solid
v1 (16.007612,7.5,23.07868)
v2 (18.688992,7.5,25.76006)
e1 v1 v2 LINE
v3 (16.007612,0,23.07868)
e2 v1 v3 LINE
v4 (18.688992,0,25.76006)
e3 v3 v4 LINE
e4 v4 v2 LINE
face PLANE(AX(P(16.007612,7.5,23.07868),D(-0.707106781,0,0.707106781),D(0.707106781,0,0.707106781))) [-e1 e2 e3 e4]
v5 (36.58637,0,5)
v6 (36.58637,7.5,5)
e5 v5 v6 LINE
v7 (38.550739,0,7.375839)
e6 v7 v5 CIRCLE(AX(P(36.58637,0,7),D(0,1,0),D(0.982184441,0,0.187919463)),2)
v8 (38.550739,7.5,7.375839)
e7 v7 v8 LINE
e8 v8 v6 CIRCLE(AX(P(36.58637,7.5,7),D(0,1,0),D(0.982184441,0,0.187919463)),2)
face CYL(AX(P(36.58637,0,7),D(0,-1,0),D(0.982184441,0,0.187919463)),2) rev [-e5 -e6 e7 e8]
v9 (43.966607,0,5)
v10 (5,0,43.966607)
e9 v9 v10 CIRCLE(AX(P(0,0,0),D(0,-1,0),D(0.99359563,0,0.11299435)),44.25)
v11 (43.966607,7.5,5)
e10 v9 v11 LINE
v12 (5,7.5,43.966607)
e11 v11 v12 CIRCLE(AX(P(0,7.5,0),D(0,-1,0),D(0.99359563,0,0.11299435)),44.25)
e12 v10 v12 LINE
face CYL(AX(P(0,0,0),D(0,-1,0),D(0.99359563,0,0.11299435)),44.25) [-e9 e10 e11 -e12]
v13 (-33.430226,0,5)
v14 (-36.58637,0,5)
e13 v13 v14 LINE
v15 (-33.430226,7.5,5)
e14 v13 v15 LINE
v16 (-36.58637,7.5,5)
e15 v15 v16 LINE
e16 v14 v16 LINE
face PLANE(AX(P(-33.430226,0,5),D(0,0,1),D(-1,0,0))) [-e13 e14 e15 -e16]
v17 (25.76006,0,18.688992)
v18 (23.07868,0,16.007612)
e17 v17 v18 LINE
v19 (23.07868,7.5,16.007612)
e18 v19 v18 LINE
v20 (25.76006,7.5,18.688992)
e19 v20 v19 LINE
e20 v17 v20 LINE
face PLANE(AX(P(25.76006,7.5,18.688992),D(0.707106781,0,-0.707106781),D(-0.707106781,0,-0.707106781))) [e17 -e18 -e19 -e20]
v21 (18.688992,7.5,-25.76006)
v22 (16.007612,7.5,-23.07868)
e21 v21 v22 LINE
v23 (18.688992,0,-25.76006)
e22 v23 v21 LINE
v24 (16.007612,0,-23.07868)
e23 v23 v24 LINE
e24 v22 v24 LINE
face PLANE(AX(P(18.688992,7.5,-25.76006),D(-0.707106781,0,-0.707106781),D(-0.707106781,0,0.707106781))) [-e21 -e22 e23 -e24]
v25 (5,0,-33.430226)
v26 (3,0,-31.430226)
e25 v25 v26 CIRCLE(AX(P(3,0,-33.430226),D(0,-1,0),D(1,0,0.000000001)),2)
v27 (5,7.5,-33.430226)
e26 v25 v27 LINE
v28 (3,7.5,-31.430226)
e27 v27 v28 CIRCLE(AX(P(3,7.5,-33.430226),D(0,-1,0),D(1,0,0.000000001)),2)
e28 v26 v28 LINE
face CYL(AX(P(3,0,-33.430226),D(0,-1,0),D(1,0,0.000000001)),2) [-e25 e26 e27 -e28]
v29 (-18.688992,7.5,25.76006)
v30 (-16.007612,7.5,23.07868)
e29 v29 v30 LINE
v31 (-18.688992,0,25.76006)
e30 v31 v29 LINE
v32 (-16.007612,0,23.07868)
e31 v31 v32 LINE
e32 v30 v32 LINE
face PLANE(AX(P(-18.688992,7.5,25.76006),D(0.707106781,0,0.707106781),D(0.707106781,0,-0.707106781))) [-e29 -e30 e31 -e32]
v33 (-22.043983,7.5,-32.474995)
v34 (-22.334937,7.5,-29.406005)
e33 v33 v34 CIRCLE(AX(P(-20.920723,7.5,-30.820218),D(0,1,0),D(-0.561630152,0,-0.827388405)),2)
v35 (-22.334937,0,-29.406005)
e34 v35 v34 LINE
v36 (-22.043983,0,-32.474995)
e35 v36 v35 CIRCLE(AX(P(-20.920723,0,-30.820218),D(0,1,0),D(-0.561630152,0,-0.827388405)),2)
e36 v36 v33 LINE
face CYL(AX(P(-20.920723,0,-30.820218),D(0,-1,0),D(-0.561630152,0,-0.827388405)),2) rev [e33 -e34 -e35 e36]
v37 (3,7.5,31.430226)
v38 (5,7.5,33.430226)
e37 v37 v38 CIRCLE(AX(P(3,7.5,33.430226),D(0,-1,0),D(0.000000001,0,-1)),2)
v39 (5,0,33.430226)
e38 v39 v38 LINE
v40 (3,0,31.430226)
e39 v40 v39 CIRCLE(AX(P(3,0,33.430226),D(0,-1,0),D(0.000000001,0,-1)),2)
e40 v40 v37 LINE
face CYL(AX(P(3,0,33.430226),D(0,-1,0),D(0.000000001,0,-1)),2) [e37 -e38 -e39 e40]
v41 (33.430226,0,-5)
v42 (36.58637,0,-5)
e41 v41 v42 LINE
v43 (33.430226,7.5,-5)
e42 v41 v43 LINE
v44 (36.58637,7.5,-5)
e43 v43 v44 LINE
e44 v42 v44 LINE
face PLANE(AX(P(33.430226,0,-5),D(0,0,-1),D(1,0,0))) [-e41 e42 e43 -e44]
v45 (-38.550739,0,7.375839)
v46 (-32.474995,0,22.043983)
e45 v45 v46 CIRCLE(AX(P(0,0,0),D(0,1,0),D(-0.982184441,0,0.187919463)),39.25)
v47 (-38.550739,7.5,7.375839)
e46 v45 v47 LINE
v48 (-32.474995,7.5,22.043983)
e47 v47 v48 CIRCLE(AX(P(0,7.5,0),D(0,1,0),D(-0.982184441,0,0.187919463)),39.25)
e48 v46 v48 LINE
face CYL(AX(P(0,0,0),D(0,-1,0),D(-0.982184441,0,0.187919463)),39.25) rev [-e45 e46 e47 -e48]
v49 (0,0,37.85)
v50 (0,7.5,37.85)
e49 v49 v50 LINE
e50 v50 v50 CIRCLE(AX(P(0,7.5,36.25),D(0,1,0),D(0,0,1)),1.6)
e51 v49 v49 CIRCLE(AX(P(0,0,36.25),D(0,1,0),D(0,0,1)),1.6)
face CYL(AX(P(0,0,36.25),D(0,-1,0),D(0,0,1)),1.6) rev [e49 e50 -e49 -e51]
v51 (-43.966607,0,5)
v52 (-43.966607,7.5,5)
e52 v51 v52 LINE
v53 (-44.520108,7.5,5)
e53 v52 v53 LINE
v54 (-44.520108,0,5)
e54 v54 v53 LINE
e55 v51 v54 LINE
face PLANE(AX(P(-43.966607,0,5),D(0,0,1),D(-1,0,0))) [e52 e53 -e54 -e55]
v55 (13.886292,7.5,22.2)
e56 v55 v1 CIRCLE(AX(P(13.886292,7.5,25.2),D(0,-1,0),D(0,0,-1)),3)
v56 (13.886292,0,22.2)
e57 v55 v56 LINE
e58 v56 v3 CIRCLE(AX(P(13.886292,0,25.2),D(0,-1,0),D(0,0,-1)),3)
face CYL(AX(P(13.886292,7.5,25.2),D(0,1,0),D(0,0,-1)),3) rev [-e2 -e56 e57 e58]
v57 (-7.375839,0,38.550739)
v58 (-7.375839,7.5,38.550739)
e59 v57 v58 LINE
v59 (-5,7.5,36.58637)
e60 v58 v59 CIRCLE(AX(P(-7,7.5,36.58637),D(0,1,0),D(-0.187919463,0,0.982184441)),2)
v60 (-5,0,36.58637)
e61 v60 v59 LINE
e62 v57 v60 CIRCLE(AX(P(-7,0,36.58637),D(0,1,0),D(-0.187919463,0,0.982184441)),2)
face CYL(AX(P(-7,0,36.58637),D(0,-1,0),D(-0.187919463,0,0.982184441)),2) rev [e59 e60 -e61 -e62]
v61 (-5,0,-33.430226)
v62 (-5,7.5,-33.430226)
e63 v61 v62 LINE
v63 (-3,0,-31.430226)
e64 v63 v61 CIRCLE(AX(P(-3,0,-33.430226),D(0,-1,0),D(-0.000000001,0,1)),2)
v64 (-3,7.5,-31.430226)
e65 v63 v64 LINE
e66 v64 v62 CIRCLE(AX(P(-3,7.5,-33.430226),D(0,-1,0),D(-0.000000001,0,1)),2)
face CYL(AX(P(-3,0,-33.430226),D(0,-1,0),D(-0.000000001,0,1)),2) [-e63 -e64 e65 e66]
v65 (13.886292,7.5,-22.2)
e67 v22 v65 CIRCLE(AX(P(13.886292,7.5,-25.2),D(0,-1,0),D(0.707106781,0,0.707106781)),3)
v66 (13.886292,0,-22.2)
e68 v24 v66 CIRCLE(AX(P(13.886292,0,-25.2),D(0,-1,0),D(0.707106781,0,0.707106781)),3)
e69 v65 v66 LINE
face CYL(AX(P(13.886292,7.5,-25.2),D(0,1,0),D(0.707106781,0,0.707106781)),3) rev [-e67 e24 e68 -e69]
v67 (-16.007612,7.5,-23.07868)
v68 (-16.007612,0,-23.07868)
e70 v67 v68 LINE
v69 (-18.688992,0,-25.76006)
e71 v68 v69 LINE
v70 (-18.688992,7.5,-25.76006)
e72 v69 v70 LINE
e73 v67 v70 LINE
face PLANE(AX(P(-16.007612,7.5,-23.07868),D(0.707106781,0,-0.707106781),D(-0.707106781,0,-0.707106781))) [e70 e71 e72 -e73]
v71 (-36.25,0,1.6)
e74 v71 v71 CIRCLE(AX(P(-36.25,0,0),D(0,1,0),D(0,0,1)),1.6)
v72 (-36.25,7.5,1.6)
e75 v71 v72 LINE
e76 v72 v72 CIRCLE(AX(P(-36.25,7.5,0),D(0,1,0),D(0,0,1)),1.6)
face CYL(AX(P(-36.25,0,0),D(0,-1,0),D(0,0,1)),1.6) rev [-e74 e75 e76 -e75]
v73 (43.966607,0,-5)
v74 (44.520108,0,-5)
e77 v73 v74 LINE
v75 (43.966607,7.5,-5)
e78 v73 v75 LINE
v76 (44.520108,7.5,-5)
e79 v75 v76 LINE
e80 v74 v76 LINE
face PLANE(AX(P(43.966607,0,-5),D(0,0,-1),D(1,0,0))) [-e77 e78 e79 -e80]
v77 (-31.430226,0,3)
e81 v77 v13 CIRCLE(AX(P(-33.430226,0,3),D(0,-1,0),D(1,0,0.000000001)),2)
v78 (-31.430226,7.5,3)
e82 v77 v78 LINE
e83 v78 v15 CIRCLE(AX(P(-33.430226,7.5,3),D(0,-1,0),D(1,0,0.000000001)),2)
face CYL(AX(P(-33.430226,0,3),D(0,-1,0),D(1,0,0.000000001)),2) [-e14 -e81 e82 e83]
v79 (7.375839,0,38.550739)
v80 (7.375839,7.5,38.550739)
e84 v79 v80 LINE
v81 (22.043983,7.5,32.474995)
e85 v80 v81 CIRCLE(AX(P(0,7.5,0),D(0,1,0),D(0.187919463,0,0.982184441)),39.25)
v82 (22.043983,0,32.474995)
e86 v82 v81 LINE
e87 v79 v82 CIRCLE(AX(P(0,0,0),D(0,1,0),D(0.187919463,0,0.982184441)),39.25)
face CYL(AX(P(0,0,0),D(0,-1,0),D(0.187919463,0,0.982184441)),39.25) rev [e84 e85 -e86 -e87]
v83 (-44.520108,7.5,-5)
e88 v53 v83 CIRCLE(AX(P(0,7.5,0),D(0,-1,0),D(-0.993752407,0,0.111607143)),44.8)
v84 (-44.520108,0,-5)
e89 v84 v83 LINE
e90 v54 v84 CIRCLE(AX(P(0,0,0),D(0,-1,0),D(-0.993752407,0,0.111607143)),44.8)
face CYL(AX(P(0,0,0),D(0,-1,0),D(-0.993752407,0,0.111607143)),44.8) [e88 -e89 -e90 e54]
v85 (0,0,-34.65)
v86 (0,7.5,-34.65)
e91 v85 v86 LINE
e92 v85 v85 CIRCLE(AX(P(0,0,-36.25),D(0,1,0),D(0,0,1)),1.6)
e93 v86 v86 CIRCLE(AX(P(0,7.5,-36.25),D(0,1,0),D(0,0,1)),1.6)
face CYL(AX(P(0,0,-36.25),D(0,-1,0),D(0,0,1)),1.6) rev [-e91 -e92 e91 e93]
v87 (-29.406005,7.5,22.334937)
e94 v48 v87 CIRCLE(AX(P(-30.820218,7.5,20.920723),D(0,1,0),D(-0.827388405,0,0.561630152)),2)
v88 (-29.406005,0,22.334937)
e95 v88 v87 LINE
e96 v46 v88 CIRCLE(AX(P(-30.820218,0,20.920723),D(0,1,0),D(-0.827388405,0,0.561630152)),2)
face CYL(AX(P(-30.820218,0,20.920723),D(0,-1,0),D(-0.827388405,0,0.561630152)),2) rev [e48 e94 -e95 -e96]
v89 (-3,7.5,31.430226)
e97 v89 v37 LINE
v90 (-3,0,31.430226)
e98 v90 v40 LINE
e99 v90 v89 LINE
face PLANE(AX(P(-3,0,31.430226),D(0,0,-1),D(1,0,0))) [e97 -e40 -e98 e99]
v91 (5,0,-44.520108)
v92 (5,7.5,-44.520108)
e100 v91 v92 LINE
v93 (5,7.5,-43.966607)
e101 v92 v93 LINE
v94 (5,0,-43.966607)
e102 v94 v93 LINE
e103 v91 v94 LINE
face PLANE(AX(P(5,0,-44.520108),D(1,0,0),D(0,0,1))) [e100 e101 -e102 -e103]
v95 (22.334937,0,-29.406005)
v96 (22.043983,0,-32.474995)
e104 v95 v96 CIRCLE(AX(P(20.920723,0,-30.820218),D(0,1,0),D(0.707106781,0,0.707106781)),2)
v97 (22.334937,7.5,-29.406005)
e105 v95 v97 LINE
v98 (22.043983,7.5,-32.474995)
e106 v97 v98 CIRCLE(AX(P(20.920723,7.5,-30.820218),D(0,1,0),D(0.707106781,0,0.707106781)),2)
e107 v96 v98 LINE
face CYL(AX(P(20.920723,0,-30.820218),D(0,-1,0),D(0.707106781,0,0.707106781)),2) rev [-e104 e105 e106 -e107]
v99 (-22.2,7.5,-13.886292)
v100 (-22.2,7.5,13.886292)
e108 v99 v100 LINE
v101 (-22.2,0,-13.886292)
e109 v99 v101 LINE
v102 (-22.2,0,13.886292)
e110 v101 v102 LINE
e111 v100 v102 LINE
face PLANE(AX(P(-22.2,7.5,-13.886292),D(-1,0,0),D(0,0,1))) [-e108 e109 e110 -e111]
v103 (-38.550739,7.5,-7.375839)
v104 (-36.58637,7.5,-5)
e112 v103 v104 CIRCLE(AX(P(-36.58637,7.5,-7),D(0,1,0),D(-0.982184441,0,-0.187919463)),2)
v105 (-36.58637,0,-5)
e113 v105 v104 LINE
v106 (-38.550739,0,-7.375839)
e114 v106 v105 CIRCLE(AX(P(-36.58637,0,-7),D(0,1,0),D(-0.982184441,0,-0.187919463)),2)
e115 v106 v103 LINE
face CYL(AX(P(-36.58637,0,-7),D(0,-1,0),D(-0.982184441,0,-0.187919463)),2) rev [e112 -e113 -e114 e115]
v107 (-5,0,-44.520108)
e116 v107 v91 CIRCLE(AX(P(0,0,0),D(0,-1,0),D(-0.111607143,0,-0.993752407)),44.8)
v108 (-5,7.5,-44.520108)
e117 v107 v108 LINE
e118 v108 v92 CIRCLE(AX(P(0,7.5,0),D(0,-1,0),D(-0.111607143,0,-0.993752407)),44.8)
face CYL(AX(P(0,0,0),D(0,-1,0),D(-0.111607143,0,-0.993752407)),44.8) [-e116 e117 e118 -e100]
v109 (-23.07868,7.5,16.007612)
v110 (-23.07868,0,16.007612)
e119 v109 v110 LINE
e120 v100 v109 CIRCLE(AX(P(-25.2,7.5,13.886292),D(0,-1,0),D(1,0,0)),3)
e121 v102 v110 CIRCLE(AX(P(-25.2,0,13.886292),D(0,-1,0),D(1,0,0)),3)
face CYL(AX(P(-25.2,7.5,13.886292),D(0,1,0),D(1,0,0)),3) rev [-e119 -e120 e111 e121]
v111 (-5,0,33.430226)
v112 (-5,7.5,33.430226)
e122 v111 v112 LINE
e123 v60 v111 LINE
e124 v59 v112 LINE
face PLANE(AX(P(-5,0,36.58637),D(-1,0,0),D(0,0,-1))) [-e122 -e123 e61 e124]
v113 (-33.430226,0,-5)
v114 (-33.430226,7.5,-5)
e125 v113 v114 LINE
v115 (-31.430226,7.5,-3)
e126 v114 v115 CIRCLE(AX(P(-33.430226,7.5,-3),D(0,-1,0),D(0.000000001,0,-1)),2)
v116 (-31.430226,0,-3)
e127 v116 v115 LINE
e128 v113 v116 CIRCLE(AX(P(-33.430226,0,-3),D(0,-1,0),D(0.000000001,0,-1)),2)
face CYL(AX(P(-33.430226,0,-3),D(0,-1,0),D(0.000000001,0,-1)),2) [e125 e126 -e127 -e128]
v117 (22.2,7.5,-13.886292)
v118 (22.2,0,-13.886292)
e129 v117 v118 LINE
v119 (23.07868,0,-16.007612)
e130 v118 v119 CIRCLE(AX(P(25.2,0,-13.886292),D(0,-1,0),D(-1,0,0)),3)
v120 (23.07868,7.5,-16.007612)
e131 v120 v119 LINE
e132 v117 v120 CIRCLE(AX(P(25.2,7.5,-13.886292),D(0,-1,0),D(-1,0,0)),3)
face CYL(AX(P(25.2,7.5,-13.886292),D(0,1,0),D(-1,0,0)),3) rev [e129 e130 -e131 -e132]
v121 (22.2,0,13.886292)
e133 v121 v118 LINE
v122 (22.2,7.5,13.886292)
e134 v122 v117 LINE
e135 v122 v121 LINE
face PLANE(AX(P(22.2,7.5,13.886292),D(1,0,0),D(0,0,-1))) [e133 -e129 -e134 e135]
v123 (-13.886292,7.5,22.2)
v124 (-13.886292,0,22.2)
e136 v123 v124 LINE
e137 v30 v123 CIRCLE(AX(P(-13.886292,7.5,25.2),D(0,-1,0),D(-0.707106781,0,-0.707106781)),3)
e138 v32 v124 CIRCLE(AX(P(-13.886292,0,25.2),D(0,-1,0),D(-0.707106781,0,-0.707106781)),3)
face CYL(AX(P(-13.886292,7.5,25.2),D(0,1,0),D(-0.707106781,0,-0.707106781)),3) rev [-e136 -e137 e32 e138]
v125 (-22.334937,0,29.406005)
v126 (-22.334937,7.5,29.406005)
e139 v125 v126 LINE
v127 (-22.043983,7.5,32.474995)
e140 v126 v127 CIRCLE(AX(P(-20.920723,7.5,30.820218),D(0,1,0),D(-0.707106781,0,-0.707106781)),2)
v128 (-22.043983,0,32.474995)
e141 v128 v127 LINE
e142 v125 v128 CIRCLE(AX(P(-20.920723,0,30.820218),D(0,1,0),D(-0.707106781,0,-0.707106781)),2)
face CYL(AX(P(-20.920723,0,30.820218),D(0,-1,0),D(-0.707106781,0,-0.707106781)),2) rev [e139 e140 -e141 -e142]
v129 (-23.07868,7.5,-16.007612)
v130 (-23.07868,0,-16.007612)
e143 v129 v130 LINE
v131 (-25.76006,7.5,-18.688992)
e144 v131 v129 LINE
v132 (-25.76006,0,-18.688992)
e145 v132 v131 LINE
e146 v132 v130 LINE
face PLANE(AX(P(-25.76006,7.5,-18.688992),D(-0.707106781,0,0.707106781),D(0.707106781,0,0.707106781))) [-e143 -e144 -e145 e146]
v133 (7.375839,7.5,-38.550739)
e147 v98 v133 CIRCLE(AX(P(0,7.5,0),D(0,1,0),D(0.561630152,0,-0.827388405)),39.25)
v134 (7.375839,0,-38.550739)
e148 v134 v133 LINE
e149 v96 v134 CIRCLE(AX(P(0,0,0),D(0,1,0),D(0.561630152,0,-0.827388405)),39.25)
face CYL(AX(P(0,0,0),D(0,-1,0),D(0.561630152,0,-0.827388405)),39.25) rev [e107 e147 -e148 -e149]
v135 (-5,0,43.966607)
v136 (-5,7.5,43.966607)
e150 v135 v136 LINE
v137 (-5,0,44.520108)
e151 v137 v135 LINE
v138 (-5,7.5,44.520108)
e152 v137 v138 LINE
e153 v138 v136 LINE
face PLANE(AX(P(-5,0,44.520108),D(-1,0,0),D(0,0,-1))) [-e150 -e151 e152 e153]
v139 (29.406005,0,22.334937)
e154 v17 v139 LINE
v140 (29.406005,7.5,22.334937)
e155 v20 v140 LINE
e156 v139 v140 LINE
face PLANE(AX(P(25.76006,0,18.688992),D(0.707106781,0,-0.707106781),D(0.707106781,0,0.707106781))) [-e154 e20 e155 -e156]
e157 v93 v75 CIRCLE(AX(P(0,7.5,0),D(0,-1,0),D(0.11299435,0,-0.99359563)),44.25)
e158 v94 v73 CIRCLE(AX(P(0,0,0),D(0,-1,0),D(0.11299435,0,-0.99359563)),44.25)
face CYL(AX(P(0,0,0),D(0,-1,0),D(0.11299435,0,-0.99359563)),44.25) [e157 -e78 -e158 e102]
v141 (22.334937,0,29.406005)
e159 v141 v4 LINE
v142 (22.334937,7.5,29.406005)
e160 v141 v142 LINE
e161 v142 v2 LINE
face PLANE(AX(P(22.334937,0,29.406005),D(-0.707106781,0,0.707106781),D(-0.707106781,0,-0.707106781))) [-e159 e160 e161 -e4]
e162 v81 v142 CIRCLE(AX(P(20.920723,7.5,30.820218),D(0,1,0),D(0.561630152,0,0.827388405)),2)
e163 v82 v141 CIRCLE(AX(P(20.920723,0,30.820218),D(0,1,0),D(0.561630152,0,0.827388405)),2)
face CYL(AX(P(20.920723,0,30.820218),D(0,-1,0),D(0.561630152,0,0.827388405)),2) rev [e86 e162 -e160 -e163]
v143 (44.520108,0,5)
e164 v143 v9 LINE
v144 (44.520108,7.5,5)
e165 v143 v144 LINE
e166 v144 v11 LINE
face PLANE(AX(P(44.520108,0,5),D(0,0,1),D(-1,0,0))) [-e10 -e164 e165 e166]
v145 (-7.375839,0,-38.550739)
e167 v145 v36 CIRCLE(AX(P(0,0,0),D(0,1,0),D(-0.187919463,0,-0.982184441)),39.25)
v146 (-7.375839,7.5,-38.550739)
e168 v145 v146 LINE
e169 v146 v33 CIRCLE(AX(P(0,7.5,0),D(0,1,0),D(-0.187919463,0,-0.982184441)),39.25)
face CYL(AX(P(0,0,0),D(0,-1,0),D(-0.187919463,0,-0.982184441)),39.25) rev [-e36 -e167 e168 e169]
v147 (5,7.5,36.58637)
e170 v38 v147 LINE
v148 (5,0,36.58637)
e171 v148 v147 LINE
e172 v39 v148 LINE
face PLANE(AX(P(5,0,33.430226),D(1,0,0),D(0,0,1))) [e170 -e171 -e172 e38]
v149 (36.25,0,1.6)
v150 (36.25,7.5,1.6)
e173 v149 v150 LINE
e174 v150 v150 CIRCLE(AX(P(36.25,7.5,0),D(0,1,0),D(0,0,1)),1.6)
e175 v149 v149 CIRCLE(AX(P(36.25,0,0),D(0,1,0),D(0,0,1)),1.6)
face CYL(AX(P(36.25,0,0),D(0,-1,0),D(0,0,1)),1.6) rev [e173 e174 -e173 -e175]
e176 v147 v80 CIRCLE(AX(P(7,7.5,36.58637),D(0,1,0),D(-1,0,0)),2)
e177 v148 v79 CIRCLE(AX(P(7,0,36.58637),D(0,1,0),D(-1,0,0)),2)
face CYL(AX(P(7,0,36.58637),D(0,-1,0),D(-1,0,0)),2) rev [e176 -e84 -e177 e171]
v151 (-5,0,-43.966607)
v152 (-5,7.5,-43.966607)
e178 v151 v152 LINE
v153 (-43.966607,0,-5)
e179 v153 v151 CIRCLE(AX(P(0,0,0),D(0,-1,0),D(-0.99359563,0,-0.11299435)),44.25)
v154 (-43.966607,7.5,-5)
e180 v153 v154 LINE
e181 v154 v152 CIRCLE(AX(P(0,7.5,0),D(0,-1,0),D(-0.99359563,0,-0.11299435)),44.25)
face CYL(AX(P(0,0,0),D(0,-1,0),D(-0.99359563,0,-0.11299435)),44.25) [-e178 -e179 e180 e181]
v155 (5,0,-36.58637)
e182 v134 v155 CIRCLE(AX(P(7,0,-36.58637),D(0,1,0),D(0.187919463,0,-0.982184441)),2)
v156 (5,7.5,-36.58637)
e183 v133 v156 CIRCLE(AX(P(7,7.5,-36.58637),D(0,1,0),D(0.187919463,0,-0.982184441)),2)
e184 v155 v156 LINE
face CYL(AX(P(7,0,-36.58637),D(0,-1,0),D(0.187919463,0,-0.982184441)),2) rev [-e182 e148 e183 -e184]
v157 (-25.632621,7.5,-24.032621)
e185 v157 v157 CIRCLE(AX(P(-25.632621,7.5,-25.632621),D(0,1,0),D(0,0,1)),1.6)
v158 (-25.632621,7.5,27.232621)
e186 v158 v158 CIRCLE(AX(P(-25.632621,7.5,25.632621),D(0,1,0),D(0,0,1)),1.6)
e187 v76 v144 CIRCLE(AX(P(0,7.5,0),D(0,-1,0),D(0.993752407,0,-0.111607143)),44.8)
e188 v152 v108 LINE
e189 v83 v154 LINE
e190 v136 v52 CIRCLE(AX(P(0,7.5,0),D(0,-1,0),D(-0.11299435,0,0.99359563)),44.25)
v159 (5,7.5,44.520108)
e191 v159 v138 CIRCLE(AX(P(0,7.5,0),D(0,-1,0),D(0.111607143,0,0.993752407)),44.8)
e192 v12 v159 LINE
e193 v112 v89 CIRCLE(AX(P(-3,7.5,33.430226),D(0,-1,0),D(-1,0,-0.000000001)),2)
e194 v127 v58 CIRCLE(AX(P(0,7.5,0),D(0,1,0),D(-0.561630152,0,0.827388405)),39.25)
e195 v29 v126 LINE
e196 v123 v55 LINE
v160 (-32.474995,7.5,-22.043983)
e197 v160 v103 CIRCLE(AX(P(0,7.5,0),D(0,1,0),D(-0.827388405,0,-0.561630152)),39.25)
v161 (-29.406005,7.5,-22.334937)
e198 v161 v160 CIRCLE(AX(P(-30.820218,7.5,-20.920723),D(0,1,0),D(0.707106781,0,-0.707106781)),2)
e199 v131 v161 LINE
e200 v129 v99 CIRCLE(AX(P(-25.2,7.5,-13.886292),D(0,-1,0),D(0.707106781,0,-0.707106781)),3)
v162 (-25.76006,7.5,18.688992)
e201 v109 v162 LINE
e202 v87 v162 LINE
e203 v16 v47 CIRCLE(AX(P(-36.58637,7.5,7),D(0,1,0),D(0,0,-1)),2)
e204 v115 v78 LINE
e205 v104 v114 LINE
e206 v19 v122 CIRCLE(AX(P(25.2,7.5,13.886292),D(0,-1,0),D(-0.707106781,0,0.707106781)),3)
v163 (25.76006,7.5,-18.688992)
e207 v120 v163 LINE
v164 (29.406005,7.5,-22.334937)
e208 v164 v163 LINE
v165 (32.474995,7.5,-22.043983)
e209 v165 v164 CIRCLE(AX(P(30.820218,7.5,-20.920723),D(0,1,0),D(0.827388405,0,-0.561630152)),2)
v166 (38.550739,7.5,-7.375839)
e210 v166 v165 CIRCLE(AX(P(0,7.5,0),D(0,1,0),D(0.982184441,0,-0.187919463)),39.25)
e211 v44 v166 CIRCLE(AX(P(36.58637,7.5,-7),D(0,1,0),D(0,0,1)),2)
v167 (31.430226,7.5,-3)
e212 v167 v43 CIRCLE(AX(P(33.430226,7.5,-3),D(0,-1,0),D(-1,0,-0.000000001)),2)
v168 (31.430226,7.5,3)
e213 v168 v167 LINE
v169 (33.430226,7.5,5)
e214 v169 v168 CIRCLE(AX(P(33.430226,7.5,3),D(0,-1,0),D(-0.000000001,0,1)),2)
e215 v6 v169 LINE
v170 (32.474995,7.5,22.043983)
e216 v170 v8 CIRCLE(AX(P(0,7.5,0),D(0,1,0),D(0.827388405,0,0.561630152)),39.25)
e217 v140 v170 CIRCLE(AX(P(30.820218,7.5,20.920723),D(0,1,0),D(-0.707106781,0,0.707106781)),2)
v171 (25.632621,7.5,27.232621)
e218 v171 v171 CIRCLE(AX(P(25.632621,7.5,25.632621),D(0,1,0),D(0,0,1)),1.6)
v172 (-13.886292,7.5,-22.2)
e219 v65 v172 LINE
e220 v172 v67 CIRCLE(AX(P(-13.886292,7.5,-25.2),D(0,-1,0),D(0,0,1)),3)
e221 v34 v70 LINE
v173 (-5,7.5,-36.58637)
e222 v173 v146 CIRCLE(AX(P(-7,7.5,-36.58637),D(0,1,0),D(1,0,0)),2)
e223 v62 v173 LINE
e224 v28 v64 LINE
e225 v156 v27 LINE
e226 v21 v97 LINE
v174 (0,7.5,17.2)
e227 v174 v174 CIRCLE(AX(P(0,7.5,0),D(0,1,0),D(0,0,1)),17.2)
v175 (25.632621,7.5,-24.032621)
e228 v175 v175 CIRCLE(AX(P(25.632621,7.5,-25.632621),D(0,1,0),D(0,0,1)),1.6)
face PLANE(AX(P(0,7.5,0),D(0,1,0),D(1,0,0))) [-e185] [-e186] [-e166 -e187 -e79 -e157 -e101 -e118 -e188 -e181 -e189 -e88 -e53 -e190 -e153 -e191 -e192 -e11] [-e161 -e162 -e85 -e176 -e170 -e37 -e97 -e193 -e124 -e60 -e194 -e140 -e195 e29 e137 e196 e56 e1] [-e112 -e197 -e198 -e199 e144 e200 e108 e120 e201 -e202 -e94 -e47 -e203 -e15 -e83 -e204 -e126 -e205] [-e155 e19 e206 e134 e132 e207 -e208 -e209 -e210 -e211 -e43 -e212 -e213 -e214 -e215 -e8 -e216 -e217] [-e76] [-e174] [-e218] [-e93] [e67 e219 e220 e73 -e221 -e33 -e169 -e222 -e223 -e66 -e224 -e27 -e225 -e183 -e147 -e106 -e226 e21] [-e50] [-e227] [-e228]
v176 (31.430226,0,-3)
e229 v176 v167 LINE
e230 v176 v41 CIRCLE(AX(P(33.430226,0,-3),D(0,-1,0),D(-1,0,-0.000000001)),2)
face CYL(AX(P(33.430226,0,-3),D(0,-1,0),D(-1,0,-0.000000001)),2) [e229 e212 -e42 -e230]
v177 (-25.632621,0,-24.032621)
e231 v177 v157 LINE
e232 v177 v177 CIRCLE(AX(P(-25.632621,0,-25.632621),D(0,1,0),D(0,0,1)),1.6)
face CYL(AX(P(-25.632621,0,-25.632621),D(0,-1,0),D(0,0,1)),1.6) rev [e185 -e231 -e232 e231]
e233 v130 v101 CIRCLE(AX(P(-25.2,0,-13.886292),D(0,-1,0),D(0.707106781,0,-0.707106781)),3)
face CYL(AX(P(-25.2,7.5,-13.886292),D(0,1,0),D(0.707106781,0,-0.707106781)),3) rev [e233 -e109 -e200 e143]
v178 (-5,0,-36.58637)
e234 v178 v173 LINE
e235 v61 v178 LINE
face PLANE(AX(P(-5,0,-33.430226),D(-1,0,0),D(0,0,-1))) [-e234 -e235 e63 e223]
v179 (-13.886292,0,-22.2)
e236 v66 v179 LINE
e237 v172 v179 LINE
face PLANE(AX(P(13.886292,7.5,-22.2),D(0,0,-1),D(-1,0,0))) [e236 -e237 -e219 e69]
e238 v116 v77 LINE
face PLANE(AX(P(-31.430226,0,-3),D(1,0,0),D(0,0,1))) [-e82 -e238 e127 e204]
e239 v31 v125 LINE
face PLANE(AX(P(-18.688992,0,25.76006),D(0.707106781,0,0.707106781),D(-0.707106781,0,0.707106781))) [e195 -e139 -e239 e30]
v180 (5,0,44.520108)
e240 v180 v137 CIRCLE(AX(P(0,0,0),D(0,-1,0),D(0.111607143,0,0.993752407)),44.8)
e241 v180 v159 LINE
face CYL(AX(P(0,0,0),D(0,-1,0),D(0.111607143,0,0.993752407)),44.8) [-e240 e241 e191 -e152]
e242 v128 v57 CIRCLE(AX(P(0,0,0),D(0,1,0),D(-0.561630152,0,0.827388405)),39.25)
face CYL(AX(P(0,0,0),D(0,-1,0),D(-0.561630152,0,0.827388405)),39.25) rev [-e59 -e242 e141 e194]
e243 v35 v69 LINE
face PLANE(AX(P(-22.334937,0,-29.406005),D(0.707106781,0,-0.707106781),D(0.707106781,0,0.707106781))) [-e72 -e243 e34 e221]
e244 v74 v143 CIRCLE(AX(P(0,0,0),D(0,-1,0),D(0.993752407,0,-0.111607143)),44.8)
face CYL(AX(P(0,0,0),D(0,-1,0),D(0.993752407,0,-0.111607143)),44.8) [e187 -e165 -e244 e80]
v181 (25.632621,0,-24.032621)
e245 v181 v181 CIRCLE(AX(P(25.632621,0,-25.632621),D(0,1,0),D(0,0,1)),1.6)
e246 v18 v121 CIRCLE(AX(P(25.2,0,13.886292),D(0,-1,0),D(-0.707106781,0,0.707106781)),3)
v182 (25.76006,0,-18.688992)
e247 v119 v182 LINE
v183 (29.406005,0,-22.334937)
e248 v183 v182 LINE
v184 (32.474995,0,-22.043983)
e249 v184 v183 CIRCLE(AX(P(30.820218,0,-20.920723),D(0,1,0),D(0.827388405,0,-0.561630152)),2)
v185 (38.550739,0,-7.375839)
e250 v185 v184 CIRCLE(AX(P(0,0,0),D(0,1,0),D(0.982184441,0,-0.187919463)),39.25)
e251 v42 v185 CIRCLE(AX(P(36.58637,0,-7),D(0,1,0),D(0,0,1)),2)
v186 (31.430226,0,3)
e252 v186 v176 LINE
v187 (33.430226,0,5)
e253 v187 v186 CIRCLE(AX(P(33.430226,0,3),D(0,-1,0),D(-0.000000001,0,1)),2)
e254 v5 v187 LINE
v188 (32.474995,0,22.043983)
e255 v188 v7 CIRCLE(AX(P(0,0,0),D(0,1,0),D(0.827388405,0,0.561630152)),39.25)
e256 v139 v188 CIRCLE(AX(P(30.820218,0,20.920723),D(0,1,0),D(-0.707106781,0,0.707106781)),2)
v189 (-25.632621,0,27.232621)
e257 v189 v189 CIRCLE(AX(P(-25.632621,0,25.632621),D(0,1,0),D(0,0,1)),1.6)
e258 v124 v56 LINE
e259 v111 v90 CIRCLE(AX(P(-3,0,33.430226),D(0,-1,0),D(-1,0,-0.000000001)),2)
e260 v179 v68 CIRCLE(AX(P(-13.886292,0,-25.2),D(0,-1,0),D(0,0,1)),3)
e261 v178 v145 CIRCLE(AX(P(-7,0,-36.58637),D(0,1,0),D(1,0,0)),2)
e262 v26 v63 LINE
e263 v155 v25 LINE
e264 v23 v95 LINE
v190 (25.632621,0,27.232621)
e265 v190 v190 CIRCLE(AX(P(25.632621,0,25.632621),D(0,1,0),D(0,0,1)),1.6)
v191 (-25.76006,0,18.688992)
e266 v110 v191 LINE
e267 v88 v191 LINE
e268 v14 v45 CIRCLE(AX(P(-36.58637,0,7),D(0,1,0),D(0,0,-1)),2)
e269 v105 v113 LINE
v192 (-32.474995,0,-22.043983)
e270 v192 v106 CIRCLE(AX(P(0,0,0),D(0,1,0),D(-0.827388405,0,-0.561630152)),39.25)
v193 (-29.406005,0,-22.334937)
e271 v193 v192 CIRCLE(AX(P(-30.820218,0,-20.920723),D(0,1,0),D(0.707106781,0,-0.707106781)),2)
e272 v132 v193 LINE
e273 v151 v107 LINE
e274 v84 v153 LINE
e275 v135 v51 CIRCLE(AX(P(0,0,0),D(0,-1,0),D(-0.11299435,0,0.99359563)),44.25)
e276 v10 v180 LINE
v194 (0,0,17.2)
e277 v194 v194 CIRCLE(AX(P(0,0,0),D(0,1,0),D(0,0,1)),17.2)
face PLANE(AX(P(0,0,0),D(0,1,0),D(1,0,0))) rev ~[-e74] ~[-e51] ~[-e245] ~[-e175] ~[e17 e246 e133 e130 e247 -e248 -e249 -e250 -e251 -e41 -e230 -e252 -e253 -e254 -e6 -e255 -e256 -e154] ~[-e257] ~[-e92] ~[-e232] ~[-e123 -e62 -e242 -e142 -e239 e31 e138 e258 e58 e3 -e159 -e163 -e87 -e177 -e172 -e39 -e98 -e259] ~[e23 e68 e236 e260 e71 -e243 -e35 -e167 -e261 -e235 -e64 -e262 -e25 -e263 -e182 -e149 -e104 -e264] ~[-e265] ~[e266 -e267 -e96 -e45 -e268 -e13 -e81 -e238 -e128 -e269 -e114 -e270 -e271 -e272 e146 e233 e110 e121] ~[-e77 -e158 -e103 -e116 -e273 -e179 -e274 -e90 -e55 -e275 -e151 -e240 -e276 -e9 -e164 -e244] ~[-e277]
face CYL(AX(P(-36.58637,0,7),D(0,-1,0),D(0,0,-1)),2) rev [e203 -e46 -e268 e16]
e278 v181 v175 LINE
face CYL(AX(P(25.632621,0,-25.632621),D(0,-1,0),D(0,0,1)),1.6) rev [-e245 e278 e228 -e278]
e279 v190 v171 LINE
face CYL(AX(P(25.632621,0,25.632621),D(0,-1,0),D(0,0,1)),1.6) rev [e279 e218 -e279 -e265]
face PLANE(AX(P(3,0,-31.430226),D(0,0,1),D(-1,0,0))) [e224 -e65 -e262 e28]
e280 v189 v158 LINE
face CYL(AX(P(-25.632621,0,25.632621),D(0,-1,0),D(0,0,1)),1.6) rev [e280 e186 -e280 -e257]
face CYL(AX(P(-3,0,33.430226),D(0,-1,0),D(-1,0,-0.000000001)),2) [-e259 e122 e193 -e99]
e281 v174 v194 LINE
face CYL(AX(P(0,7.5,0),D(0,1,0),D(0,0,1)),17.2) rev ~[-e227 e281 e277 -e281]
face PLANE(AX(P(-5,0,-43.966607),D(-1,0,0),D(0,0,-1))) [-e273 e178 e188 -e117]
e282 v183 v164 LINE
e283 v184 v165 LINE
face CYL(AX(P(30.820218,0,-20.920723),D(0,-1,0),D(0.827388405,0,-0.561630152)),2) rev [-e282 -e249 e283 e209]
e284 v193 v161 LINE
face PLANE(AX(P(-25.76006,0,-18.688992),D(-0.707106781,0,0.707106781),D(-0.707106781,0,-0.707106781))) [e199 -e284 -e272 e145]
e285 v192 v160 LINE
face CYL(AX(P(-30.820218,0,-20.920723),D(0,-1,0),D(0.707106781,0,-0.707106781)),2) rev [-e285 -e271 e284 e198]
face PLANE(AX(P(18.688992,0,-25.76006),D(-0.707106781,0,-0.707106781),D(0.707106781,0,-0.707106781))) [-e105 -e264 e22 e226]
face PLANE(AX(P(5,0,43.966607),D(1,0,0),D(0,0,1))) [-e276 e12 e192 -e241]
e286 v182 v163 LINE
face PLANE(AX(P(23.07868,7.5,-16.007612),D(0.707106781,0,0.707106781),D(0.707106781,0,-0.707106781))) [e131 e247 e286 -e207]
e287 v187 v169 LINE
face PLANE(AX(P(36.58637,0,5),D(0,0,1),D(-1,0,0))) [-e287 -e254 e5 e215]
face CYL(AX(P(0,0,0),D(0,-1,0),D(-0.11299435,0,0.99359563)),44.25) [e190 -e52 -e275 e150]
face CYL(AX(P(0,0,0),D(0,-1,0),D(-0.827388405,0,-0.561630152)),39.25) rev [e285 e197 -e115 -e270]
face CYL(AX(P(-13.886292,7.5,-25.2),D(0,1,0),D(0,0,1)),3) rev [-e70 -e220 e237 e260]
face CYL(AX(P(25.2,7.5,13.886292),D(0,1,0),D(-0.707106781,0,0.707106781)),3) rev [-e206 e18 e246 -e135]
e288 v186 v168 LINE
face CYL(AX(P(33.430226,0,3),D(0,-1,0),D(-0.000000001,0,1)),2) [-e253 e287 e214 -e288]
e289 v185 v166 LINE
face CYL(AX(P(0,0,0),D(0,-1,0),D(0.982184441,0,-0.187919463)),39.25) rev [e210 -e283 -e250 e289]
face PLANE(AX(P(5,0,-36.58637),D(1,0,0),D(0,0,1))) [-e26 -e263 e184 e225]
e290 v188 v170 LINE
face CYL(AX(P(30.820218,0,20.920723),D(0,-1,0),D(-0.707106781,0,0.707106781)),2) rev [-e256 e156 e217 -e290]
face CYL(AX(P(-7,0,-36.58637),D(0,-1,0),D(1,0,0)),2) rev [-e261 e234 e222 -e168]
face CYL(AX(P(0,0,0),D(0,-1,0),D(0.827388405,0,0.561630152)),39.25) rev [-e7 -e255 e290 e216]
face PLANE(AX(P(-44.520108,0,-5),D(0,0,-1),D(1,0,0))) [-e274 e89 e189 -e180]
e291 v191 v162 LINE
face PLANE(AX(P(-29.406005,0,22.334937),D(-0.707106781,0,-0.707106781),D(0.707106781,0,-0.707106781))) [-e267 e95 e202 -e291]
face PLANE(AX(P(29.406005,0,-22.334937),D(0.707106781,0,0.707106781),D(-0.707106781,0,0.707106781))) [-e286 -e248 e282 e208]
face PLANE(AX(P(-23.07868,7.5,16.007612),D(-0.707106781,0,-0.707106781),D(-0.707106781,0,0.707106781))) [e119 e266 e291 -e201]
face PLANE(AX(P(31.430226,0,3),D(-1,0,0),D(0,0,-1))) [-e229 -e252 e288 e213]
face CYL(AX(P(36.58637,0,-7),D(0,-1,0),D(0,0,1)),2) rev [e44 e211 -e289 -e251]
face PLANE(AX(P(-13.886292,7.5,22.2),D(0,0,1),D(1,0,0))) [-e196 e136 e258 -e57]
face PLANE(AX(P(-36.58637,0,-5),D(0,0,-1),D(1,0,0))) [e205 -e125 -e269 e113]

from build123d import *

# Parameters (mm, degrees)
SKETCH1_R           = 1.6
BOSS_EXTRUDE1_DEPTH = 7.5
SKETCH2_R           = 17.2
BOSS_EXTRUDE2_DEPTH = 7.5


with BuildPart() as part:
    # Sketch1 → Boss-Extrude1 (new body)
    with BuildSketch(Plane(origin=(0, 0, 0), x_dir=(1, 0, 0), z_dir=(0, 1, 0))):
        with BuildLine():
            Line((-5, 43.966606646), (-5, 44.520107817))
            ThreePointArc((-5, 44.520107817), (0, 44.8), (5, 44.520107817))
            Line((5, 44.520107817), (5, 43.966606646))
            ThreePointArc((5, 43.966606646), (31.289475068, 31.289475068), (43.966606646, 5))
            Line((43.966606646, 5), (44.520107817, 5))
            ThreePointArc((44.520107817, 5), (44.8, 0), (44.520107817, -5))
            Line((44.520107817, -5), (43.966606646, -5))
            ThreePointArc((43.966606646, -5), (31.289475068, -31.289475068), (5, -43.966606646))
            Line((5, -43.966606646), (5, -44.520107817))
            ThreePointArc((5, -44.520107817), (0, -44.8), (-5, -44.520107817))
            Line((-5, -44.520107817), (-5, -43.966606646))
            ThreePointArc((-5, -43.966606646), (-31.289475068, -31.289475068), (-43.966606646, -5))
            Line((-43.966606646, -5), (-44.520107817, -5))
            ThreePointArc((-44.520107817, -5), (-44.8, 0), (-44.520107817, 5))
            Line((-44.520107817, 5), (-43.966606646, 5))
            ThreePointArc((-43.966606646, 5), (-31.289475068, 31.289475068), (-5, 43.966606646))
        make_face()
        with Locations(Location((36.25, 0, 0), (0, 0, 270))):
            Circle(SKETCH1_R, mode=Mode.SUBTRACT)
        with Locations(Location((25.632620818, -25.632620818, 0), (0, 0, 270))):
            Circle(SKETCH1_R, mode=Mode.SUBTRACT)
        with Locations(Location((0, -36.25, 0), (0, 0, 270))):
            Circle(SKETCH1_R, mode=Mode.SUBTRACT)
        with Locations(Location((-25.632620818, -25.632620818, 0), (0, 0, 270))):
            Circle(SKETCH1_R, mode=Mode.SUBTRACT)
        with Locations(Location((-36.25, 0, 0), (0, 0, 270))):
            Circle(SKETCH1_R, mode=Mode.SUBTRACT)
        with Locations(Location((-25.632620818, 25.632620818, 0), (0, 0, 270))):
            Circle(SKETCH1_R, mode=Mode.SUBTRACT)
        with Locations(Location((0, 36.25, 0), (0, 0, 270))):
            Circle(SKETCH1_R, mode=Mode.SUBTRACT)
        with Locations(Location((25.632620818, 25.632620818, 0), (0, 0, 270))):
            Circle(SKETCH1_R, mode=Mode.SUBTRACT)
        with BuildLine():
            Line((33.430226046, 5), (36.586370413, 5))
            ThreePointArc((36.586370413, 5), (38.127746073, 5.725574218), (38.550739294, 7.375838926))
            ThreePointArc((38.550739294, 7.375838926), (36.262271651, 15.02032472), (32.474994896, 22.043983453))
            ThreePointArc((32.474994896, 22.043983453), (31.008980156, 22.911795444), (29.406004524, 22.334936712))
            Line((29.406004524, 22.334936712), (25.760059877, 18.688992065))
            Line((25.760059877, 18.688992065), (18.688992065, 25.760059877))
            Line((18.688992065, 25.760059877), (22.334936712, 29.406004524))
            ThreePointArc((22.334936712, 29.406004524), (22.911795444, 31.008980156), (22.043983453, 32.474994896))
            ThreePointArc((22.043983453, 32.474994896), (15.02032472, 36.262271651), (7.375838926, 38.550739294))
            ThreePointArc((7.375838926, 38.550739294), (5.725574218, 38.127746073), (5, 36.586370413))
            Line((5, 36.586370413), (5, 33.430226046))
            ThreePointArc((5, 33.430226046), (4.414213562, 32.016012484), (3, 31.430226046))
            Line((3, 31.430226046), (-3, 31.430226046))
            ThreePointArc((-3, 31.430226046), (-4.414213562, 32.016012484), (-5, 33.430226046))
            Line((-5, 33.430226046), (-5, 36.586370413))
            ThreePointArc((-5, 36.586370413), (-5.725574218, 38.127746073), (-7.375838926, 38.550739294))
            ThreePointArc((-7.375838926, 38.550739294), (-15.02032472, 36.262271651), (-22.043983453, 32.474994896))
            ThreePointArc((-22.043983453, 32.474994896), (-22.911795444, 31.008980156), (-22.334936712, 29.406004524))
            Line((-22.334936712, 29.406004524), (-18.688992065, 25.760059877))
            Line((-18.688992065, 25.760059877), (-25.760059877, 18.688992065))
            Line((-25.760059877, 18.688992065), (-29.406004524, 22.334936712))
            ThreePointArc((-29.406004524, 22.334936712), (-31.008980156, 22.911795444), (-32.474994896, 22.043983453))
            ThreePointArc((-32.474994896, 22.043983453), (-36.262271651, 15.02032472), (-38.550739294, 7.375838926))
            ThreePointArc((-38.550739294, 7.375838926), (-38.127746073, 5.725574218), (-36.586370413, 5))
            Line((-36.586370413, 5), (-33.430226046, 5))
            ThreePointArc((-33.430226046, 5), (-32.016012484, 4.414213562), (-31.430226046, 3))
            Line((-31.430226046, 3), (-31.430226046, -3))
            ThreePointArc((-31.430226046, -3), (-32.016012484, -4.414213562), (-33.430226046, -5))
            Line((-33.430226046, -5), (-36.586370413, -5))
            ThreePointArc((-36.586370413, -5), (-38.127746073, -5.725574218), (-38.550739294, -7.375838926))
            ThreePointArc((-38.550739294, -7.375838926), (-36.262271651, -15.02032472), (-32.474994896, -22.043983453))
            ThreePointArc((-32.474994896, -22.043983453), (-31.008980156, -22.911795444), (-29.406004524, -22.334936712))
            Line((-29.406004524, -22.334936712), (-25.760059877, -18.688992065))
            Line((-25.760059877, -18.688992065), (-18.688992065, -25.760059877))
            Line((-18.688992065, -25.760059877), (-22.334936712, -29.406004524))
            ThreePointArc((-22.334936712, -29.406004524), (-22.911795444, -31.008980156), (-22.043983453, -32.474994896))
            ThreePointArc((-22.043983453, -32.474994896), (-15.02032472, -36.262271651), (-7.375838926, -38.550739294))
            ThreePointArc((-7.375838926, -38.550739294), (-5.725574218, -38.127746073), (-5, -36.586370413))
            Line((-5, -36.586370413), (-5, -33.430226046))
            ThreePointArc((-5, -33.430226046), (-4.414213562, -32.016012484), (-3, -31.430226046))
            Line((-3, -31.430226046), (3, -31.430226046))
            ThreePointArc((3, -31.430226046), (4.414213562, -32.016012484), (5, -33.430226046))
            Line((5, -33.430226046), (5, -36.586370413))
            ThreePointArc((5, -36.586370413), (5.725574218, -38.127746073), (7.375838926, -38.550739294))
            ThreePointArc((7.375838926, -38.550739294), (15.02032472, -36.262271651), (22.043983453, -32.474994896))
            ThreePointArc((22.043983453, -32.474994896), (22.911795444, -31.008980156), (22.334936712, -29.406004524))
            Line((22.334936712, -29.406004524), (18.688992065, -25.760059877))
            Line((18.688992065, -25.760059877), (25.760059877, -18.688992065))
            Line((25.760059877, -18.688992065), (29.406004524, -22.334936712))
            ThreePointArc((29.406004524, -22.334936712), (31.008980156, -22.911795444), (32.474994896, -22.043983453))
            ThreePointArc((32.474994896, -22.043983453), (36.262271651, -15.02032472), (38.550739294, -7.375838926))
            ThreePointArc((38.550739294, -7.375838926), (38.127746073, -5.725574218), (36.586370413, -5))
            Line((36.586370413, -5), (33.430226046, -5))
            ThreePointArc((33.430226046, -5), (32.016012484, -4.414213562), (31.430226046, -3))
            Line((31.430226046, -3), (31.430226046, 3))
            ThreePointArc((31.430226046, 3), (32.016012484, 4.414213562), (33.430226046, 5))
        make_face(mode=Mode.SUBTRACT)
    extrude(amount=BOSS_EXTRUDE1_DEPTH)

    # Sketch2 → Boss-Extrude2 (add)
    with BuildSketch(Plane(origin=(0, 7.5, 0), x_dir=(1, 0, 0), z_dir=(0, 1, 0))):
        with BuildLine():
            Line((13.886291501, 22.2), (-13.886291501, 22.2))
            ThreePointArc((-13.886291501, 22.2), (-15.034341798, 22.428361402), (-16.007611845, 23.078679656))
            Line((-16.007611845, 23.078679656), (-18.688992065, 25.760059877))
            Line((-18.688992065, 25.760059877), (-25.760059877, 18.688992065))
            Line((-25.760059877, 18.688992065), (-23.078679656, 16.007611845))
            ThreePointArc((-23.078679656, 16.007611845), (-22.428361402, 15.034341798), (-22.2, 13.886291501))
            Line((-22.2, 13.886291501), (-22.2, -13.886291501))
            ThreePointArc((-22.2, -13.886291501), (-22.428361402, -15.034341798), (-23.078679656, -16.007611845))
            Line((-23.078679656, -16.007611845), (-25.760059877, -18.688992065))
            Line((-25.760059877, -18.688992065), (-18.688992065, -25.760059877))
            Line((-18.688992065, -25.760059877), (-16.007611845, -23.078679656))
            ThreePointArc((-16.007611845, -23.078679656), (-15.034341798, -22.428361402), (-13.886291501, -22.2))
            Line((-13.886291501, -22.2), (13.886291501, -22.2))
            ThreePointArc((13.886291501, -22.2), (15.034341798, -22.428361402), (16.007611845, -23.078679656))
            Line((16.007611845, -23.078679656), (18.688992065, -25.760059877))
            Line((18.688992065, -25.760059877), (25.760059877, -18.688992065))
            Line((25.760059877, -18.688992065), (23.078679656, -16.007611845))
            ThreePointArc((23.078679656, -16.007611845), (22.428361402, -15.034341798), (22.2, -13.886291501))
            Line((22.2, -13.886291501), (22.2, 13.886291501))
            ThreePointArc((22.2, 13.886291501), (22.428361402, 15.034341798), (23.078679656, 16.007611845))
            Line((23.078679656, 16.007611845), (25.760059877, 18.688992065))
            Line((25.760059877, 18.688992065), (18.688992065, 25.760059877))
            Line((18.688992065, 25.760059877), (16.007611845, 23.078679656))
            ThreePointArc((16.007611845, 23.078679656), (15.034341798, 22.428361402), (13.886291501, 22.2))
        make_face()
        with Locations(Location((0, 0, 0), (0, 0, 270))):
            Circle(SKETCH2_R, mode=Mode.SUBTRACT)
    extrude(amount=-BOSS_EXTRUDE2_DEPTH)


solid = part.part
